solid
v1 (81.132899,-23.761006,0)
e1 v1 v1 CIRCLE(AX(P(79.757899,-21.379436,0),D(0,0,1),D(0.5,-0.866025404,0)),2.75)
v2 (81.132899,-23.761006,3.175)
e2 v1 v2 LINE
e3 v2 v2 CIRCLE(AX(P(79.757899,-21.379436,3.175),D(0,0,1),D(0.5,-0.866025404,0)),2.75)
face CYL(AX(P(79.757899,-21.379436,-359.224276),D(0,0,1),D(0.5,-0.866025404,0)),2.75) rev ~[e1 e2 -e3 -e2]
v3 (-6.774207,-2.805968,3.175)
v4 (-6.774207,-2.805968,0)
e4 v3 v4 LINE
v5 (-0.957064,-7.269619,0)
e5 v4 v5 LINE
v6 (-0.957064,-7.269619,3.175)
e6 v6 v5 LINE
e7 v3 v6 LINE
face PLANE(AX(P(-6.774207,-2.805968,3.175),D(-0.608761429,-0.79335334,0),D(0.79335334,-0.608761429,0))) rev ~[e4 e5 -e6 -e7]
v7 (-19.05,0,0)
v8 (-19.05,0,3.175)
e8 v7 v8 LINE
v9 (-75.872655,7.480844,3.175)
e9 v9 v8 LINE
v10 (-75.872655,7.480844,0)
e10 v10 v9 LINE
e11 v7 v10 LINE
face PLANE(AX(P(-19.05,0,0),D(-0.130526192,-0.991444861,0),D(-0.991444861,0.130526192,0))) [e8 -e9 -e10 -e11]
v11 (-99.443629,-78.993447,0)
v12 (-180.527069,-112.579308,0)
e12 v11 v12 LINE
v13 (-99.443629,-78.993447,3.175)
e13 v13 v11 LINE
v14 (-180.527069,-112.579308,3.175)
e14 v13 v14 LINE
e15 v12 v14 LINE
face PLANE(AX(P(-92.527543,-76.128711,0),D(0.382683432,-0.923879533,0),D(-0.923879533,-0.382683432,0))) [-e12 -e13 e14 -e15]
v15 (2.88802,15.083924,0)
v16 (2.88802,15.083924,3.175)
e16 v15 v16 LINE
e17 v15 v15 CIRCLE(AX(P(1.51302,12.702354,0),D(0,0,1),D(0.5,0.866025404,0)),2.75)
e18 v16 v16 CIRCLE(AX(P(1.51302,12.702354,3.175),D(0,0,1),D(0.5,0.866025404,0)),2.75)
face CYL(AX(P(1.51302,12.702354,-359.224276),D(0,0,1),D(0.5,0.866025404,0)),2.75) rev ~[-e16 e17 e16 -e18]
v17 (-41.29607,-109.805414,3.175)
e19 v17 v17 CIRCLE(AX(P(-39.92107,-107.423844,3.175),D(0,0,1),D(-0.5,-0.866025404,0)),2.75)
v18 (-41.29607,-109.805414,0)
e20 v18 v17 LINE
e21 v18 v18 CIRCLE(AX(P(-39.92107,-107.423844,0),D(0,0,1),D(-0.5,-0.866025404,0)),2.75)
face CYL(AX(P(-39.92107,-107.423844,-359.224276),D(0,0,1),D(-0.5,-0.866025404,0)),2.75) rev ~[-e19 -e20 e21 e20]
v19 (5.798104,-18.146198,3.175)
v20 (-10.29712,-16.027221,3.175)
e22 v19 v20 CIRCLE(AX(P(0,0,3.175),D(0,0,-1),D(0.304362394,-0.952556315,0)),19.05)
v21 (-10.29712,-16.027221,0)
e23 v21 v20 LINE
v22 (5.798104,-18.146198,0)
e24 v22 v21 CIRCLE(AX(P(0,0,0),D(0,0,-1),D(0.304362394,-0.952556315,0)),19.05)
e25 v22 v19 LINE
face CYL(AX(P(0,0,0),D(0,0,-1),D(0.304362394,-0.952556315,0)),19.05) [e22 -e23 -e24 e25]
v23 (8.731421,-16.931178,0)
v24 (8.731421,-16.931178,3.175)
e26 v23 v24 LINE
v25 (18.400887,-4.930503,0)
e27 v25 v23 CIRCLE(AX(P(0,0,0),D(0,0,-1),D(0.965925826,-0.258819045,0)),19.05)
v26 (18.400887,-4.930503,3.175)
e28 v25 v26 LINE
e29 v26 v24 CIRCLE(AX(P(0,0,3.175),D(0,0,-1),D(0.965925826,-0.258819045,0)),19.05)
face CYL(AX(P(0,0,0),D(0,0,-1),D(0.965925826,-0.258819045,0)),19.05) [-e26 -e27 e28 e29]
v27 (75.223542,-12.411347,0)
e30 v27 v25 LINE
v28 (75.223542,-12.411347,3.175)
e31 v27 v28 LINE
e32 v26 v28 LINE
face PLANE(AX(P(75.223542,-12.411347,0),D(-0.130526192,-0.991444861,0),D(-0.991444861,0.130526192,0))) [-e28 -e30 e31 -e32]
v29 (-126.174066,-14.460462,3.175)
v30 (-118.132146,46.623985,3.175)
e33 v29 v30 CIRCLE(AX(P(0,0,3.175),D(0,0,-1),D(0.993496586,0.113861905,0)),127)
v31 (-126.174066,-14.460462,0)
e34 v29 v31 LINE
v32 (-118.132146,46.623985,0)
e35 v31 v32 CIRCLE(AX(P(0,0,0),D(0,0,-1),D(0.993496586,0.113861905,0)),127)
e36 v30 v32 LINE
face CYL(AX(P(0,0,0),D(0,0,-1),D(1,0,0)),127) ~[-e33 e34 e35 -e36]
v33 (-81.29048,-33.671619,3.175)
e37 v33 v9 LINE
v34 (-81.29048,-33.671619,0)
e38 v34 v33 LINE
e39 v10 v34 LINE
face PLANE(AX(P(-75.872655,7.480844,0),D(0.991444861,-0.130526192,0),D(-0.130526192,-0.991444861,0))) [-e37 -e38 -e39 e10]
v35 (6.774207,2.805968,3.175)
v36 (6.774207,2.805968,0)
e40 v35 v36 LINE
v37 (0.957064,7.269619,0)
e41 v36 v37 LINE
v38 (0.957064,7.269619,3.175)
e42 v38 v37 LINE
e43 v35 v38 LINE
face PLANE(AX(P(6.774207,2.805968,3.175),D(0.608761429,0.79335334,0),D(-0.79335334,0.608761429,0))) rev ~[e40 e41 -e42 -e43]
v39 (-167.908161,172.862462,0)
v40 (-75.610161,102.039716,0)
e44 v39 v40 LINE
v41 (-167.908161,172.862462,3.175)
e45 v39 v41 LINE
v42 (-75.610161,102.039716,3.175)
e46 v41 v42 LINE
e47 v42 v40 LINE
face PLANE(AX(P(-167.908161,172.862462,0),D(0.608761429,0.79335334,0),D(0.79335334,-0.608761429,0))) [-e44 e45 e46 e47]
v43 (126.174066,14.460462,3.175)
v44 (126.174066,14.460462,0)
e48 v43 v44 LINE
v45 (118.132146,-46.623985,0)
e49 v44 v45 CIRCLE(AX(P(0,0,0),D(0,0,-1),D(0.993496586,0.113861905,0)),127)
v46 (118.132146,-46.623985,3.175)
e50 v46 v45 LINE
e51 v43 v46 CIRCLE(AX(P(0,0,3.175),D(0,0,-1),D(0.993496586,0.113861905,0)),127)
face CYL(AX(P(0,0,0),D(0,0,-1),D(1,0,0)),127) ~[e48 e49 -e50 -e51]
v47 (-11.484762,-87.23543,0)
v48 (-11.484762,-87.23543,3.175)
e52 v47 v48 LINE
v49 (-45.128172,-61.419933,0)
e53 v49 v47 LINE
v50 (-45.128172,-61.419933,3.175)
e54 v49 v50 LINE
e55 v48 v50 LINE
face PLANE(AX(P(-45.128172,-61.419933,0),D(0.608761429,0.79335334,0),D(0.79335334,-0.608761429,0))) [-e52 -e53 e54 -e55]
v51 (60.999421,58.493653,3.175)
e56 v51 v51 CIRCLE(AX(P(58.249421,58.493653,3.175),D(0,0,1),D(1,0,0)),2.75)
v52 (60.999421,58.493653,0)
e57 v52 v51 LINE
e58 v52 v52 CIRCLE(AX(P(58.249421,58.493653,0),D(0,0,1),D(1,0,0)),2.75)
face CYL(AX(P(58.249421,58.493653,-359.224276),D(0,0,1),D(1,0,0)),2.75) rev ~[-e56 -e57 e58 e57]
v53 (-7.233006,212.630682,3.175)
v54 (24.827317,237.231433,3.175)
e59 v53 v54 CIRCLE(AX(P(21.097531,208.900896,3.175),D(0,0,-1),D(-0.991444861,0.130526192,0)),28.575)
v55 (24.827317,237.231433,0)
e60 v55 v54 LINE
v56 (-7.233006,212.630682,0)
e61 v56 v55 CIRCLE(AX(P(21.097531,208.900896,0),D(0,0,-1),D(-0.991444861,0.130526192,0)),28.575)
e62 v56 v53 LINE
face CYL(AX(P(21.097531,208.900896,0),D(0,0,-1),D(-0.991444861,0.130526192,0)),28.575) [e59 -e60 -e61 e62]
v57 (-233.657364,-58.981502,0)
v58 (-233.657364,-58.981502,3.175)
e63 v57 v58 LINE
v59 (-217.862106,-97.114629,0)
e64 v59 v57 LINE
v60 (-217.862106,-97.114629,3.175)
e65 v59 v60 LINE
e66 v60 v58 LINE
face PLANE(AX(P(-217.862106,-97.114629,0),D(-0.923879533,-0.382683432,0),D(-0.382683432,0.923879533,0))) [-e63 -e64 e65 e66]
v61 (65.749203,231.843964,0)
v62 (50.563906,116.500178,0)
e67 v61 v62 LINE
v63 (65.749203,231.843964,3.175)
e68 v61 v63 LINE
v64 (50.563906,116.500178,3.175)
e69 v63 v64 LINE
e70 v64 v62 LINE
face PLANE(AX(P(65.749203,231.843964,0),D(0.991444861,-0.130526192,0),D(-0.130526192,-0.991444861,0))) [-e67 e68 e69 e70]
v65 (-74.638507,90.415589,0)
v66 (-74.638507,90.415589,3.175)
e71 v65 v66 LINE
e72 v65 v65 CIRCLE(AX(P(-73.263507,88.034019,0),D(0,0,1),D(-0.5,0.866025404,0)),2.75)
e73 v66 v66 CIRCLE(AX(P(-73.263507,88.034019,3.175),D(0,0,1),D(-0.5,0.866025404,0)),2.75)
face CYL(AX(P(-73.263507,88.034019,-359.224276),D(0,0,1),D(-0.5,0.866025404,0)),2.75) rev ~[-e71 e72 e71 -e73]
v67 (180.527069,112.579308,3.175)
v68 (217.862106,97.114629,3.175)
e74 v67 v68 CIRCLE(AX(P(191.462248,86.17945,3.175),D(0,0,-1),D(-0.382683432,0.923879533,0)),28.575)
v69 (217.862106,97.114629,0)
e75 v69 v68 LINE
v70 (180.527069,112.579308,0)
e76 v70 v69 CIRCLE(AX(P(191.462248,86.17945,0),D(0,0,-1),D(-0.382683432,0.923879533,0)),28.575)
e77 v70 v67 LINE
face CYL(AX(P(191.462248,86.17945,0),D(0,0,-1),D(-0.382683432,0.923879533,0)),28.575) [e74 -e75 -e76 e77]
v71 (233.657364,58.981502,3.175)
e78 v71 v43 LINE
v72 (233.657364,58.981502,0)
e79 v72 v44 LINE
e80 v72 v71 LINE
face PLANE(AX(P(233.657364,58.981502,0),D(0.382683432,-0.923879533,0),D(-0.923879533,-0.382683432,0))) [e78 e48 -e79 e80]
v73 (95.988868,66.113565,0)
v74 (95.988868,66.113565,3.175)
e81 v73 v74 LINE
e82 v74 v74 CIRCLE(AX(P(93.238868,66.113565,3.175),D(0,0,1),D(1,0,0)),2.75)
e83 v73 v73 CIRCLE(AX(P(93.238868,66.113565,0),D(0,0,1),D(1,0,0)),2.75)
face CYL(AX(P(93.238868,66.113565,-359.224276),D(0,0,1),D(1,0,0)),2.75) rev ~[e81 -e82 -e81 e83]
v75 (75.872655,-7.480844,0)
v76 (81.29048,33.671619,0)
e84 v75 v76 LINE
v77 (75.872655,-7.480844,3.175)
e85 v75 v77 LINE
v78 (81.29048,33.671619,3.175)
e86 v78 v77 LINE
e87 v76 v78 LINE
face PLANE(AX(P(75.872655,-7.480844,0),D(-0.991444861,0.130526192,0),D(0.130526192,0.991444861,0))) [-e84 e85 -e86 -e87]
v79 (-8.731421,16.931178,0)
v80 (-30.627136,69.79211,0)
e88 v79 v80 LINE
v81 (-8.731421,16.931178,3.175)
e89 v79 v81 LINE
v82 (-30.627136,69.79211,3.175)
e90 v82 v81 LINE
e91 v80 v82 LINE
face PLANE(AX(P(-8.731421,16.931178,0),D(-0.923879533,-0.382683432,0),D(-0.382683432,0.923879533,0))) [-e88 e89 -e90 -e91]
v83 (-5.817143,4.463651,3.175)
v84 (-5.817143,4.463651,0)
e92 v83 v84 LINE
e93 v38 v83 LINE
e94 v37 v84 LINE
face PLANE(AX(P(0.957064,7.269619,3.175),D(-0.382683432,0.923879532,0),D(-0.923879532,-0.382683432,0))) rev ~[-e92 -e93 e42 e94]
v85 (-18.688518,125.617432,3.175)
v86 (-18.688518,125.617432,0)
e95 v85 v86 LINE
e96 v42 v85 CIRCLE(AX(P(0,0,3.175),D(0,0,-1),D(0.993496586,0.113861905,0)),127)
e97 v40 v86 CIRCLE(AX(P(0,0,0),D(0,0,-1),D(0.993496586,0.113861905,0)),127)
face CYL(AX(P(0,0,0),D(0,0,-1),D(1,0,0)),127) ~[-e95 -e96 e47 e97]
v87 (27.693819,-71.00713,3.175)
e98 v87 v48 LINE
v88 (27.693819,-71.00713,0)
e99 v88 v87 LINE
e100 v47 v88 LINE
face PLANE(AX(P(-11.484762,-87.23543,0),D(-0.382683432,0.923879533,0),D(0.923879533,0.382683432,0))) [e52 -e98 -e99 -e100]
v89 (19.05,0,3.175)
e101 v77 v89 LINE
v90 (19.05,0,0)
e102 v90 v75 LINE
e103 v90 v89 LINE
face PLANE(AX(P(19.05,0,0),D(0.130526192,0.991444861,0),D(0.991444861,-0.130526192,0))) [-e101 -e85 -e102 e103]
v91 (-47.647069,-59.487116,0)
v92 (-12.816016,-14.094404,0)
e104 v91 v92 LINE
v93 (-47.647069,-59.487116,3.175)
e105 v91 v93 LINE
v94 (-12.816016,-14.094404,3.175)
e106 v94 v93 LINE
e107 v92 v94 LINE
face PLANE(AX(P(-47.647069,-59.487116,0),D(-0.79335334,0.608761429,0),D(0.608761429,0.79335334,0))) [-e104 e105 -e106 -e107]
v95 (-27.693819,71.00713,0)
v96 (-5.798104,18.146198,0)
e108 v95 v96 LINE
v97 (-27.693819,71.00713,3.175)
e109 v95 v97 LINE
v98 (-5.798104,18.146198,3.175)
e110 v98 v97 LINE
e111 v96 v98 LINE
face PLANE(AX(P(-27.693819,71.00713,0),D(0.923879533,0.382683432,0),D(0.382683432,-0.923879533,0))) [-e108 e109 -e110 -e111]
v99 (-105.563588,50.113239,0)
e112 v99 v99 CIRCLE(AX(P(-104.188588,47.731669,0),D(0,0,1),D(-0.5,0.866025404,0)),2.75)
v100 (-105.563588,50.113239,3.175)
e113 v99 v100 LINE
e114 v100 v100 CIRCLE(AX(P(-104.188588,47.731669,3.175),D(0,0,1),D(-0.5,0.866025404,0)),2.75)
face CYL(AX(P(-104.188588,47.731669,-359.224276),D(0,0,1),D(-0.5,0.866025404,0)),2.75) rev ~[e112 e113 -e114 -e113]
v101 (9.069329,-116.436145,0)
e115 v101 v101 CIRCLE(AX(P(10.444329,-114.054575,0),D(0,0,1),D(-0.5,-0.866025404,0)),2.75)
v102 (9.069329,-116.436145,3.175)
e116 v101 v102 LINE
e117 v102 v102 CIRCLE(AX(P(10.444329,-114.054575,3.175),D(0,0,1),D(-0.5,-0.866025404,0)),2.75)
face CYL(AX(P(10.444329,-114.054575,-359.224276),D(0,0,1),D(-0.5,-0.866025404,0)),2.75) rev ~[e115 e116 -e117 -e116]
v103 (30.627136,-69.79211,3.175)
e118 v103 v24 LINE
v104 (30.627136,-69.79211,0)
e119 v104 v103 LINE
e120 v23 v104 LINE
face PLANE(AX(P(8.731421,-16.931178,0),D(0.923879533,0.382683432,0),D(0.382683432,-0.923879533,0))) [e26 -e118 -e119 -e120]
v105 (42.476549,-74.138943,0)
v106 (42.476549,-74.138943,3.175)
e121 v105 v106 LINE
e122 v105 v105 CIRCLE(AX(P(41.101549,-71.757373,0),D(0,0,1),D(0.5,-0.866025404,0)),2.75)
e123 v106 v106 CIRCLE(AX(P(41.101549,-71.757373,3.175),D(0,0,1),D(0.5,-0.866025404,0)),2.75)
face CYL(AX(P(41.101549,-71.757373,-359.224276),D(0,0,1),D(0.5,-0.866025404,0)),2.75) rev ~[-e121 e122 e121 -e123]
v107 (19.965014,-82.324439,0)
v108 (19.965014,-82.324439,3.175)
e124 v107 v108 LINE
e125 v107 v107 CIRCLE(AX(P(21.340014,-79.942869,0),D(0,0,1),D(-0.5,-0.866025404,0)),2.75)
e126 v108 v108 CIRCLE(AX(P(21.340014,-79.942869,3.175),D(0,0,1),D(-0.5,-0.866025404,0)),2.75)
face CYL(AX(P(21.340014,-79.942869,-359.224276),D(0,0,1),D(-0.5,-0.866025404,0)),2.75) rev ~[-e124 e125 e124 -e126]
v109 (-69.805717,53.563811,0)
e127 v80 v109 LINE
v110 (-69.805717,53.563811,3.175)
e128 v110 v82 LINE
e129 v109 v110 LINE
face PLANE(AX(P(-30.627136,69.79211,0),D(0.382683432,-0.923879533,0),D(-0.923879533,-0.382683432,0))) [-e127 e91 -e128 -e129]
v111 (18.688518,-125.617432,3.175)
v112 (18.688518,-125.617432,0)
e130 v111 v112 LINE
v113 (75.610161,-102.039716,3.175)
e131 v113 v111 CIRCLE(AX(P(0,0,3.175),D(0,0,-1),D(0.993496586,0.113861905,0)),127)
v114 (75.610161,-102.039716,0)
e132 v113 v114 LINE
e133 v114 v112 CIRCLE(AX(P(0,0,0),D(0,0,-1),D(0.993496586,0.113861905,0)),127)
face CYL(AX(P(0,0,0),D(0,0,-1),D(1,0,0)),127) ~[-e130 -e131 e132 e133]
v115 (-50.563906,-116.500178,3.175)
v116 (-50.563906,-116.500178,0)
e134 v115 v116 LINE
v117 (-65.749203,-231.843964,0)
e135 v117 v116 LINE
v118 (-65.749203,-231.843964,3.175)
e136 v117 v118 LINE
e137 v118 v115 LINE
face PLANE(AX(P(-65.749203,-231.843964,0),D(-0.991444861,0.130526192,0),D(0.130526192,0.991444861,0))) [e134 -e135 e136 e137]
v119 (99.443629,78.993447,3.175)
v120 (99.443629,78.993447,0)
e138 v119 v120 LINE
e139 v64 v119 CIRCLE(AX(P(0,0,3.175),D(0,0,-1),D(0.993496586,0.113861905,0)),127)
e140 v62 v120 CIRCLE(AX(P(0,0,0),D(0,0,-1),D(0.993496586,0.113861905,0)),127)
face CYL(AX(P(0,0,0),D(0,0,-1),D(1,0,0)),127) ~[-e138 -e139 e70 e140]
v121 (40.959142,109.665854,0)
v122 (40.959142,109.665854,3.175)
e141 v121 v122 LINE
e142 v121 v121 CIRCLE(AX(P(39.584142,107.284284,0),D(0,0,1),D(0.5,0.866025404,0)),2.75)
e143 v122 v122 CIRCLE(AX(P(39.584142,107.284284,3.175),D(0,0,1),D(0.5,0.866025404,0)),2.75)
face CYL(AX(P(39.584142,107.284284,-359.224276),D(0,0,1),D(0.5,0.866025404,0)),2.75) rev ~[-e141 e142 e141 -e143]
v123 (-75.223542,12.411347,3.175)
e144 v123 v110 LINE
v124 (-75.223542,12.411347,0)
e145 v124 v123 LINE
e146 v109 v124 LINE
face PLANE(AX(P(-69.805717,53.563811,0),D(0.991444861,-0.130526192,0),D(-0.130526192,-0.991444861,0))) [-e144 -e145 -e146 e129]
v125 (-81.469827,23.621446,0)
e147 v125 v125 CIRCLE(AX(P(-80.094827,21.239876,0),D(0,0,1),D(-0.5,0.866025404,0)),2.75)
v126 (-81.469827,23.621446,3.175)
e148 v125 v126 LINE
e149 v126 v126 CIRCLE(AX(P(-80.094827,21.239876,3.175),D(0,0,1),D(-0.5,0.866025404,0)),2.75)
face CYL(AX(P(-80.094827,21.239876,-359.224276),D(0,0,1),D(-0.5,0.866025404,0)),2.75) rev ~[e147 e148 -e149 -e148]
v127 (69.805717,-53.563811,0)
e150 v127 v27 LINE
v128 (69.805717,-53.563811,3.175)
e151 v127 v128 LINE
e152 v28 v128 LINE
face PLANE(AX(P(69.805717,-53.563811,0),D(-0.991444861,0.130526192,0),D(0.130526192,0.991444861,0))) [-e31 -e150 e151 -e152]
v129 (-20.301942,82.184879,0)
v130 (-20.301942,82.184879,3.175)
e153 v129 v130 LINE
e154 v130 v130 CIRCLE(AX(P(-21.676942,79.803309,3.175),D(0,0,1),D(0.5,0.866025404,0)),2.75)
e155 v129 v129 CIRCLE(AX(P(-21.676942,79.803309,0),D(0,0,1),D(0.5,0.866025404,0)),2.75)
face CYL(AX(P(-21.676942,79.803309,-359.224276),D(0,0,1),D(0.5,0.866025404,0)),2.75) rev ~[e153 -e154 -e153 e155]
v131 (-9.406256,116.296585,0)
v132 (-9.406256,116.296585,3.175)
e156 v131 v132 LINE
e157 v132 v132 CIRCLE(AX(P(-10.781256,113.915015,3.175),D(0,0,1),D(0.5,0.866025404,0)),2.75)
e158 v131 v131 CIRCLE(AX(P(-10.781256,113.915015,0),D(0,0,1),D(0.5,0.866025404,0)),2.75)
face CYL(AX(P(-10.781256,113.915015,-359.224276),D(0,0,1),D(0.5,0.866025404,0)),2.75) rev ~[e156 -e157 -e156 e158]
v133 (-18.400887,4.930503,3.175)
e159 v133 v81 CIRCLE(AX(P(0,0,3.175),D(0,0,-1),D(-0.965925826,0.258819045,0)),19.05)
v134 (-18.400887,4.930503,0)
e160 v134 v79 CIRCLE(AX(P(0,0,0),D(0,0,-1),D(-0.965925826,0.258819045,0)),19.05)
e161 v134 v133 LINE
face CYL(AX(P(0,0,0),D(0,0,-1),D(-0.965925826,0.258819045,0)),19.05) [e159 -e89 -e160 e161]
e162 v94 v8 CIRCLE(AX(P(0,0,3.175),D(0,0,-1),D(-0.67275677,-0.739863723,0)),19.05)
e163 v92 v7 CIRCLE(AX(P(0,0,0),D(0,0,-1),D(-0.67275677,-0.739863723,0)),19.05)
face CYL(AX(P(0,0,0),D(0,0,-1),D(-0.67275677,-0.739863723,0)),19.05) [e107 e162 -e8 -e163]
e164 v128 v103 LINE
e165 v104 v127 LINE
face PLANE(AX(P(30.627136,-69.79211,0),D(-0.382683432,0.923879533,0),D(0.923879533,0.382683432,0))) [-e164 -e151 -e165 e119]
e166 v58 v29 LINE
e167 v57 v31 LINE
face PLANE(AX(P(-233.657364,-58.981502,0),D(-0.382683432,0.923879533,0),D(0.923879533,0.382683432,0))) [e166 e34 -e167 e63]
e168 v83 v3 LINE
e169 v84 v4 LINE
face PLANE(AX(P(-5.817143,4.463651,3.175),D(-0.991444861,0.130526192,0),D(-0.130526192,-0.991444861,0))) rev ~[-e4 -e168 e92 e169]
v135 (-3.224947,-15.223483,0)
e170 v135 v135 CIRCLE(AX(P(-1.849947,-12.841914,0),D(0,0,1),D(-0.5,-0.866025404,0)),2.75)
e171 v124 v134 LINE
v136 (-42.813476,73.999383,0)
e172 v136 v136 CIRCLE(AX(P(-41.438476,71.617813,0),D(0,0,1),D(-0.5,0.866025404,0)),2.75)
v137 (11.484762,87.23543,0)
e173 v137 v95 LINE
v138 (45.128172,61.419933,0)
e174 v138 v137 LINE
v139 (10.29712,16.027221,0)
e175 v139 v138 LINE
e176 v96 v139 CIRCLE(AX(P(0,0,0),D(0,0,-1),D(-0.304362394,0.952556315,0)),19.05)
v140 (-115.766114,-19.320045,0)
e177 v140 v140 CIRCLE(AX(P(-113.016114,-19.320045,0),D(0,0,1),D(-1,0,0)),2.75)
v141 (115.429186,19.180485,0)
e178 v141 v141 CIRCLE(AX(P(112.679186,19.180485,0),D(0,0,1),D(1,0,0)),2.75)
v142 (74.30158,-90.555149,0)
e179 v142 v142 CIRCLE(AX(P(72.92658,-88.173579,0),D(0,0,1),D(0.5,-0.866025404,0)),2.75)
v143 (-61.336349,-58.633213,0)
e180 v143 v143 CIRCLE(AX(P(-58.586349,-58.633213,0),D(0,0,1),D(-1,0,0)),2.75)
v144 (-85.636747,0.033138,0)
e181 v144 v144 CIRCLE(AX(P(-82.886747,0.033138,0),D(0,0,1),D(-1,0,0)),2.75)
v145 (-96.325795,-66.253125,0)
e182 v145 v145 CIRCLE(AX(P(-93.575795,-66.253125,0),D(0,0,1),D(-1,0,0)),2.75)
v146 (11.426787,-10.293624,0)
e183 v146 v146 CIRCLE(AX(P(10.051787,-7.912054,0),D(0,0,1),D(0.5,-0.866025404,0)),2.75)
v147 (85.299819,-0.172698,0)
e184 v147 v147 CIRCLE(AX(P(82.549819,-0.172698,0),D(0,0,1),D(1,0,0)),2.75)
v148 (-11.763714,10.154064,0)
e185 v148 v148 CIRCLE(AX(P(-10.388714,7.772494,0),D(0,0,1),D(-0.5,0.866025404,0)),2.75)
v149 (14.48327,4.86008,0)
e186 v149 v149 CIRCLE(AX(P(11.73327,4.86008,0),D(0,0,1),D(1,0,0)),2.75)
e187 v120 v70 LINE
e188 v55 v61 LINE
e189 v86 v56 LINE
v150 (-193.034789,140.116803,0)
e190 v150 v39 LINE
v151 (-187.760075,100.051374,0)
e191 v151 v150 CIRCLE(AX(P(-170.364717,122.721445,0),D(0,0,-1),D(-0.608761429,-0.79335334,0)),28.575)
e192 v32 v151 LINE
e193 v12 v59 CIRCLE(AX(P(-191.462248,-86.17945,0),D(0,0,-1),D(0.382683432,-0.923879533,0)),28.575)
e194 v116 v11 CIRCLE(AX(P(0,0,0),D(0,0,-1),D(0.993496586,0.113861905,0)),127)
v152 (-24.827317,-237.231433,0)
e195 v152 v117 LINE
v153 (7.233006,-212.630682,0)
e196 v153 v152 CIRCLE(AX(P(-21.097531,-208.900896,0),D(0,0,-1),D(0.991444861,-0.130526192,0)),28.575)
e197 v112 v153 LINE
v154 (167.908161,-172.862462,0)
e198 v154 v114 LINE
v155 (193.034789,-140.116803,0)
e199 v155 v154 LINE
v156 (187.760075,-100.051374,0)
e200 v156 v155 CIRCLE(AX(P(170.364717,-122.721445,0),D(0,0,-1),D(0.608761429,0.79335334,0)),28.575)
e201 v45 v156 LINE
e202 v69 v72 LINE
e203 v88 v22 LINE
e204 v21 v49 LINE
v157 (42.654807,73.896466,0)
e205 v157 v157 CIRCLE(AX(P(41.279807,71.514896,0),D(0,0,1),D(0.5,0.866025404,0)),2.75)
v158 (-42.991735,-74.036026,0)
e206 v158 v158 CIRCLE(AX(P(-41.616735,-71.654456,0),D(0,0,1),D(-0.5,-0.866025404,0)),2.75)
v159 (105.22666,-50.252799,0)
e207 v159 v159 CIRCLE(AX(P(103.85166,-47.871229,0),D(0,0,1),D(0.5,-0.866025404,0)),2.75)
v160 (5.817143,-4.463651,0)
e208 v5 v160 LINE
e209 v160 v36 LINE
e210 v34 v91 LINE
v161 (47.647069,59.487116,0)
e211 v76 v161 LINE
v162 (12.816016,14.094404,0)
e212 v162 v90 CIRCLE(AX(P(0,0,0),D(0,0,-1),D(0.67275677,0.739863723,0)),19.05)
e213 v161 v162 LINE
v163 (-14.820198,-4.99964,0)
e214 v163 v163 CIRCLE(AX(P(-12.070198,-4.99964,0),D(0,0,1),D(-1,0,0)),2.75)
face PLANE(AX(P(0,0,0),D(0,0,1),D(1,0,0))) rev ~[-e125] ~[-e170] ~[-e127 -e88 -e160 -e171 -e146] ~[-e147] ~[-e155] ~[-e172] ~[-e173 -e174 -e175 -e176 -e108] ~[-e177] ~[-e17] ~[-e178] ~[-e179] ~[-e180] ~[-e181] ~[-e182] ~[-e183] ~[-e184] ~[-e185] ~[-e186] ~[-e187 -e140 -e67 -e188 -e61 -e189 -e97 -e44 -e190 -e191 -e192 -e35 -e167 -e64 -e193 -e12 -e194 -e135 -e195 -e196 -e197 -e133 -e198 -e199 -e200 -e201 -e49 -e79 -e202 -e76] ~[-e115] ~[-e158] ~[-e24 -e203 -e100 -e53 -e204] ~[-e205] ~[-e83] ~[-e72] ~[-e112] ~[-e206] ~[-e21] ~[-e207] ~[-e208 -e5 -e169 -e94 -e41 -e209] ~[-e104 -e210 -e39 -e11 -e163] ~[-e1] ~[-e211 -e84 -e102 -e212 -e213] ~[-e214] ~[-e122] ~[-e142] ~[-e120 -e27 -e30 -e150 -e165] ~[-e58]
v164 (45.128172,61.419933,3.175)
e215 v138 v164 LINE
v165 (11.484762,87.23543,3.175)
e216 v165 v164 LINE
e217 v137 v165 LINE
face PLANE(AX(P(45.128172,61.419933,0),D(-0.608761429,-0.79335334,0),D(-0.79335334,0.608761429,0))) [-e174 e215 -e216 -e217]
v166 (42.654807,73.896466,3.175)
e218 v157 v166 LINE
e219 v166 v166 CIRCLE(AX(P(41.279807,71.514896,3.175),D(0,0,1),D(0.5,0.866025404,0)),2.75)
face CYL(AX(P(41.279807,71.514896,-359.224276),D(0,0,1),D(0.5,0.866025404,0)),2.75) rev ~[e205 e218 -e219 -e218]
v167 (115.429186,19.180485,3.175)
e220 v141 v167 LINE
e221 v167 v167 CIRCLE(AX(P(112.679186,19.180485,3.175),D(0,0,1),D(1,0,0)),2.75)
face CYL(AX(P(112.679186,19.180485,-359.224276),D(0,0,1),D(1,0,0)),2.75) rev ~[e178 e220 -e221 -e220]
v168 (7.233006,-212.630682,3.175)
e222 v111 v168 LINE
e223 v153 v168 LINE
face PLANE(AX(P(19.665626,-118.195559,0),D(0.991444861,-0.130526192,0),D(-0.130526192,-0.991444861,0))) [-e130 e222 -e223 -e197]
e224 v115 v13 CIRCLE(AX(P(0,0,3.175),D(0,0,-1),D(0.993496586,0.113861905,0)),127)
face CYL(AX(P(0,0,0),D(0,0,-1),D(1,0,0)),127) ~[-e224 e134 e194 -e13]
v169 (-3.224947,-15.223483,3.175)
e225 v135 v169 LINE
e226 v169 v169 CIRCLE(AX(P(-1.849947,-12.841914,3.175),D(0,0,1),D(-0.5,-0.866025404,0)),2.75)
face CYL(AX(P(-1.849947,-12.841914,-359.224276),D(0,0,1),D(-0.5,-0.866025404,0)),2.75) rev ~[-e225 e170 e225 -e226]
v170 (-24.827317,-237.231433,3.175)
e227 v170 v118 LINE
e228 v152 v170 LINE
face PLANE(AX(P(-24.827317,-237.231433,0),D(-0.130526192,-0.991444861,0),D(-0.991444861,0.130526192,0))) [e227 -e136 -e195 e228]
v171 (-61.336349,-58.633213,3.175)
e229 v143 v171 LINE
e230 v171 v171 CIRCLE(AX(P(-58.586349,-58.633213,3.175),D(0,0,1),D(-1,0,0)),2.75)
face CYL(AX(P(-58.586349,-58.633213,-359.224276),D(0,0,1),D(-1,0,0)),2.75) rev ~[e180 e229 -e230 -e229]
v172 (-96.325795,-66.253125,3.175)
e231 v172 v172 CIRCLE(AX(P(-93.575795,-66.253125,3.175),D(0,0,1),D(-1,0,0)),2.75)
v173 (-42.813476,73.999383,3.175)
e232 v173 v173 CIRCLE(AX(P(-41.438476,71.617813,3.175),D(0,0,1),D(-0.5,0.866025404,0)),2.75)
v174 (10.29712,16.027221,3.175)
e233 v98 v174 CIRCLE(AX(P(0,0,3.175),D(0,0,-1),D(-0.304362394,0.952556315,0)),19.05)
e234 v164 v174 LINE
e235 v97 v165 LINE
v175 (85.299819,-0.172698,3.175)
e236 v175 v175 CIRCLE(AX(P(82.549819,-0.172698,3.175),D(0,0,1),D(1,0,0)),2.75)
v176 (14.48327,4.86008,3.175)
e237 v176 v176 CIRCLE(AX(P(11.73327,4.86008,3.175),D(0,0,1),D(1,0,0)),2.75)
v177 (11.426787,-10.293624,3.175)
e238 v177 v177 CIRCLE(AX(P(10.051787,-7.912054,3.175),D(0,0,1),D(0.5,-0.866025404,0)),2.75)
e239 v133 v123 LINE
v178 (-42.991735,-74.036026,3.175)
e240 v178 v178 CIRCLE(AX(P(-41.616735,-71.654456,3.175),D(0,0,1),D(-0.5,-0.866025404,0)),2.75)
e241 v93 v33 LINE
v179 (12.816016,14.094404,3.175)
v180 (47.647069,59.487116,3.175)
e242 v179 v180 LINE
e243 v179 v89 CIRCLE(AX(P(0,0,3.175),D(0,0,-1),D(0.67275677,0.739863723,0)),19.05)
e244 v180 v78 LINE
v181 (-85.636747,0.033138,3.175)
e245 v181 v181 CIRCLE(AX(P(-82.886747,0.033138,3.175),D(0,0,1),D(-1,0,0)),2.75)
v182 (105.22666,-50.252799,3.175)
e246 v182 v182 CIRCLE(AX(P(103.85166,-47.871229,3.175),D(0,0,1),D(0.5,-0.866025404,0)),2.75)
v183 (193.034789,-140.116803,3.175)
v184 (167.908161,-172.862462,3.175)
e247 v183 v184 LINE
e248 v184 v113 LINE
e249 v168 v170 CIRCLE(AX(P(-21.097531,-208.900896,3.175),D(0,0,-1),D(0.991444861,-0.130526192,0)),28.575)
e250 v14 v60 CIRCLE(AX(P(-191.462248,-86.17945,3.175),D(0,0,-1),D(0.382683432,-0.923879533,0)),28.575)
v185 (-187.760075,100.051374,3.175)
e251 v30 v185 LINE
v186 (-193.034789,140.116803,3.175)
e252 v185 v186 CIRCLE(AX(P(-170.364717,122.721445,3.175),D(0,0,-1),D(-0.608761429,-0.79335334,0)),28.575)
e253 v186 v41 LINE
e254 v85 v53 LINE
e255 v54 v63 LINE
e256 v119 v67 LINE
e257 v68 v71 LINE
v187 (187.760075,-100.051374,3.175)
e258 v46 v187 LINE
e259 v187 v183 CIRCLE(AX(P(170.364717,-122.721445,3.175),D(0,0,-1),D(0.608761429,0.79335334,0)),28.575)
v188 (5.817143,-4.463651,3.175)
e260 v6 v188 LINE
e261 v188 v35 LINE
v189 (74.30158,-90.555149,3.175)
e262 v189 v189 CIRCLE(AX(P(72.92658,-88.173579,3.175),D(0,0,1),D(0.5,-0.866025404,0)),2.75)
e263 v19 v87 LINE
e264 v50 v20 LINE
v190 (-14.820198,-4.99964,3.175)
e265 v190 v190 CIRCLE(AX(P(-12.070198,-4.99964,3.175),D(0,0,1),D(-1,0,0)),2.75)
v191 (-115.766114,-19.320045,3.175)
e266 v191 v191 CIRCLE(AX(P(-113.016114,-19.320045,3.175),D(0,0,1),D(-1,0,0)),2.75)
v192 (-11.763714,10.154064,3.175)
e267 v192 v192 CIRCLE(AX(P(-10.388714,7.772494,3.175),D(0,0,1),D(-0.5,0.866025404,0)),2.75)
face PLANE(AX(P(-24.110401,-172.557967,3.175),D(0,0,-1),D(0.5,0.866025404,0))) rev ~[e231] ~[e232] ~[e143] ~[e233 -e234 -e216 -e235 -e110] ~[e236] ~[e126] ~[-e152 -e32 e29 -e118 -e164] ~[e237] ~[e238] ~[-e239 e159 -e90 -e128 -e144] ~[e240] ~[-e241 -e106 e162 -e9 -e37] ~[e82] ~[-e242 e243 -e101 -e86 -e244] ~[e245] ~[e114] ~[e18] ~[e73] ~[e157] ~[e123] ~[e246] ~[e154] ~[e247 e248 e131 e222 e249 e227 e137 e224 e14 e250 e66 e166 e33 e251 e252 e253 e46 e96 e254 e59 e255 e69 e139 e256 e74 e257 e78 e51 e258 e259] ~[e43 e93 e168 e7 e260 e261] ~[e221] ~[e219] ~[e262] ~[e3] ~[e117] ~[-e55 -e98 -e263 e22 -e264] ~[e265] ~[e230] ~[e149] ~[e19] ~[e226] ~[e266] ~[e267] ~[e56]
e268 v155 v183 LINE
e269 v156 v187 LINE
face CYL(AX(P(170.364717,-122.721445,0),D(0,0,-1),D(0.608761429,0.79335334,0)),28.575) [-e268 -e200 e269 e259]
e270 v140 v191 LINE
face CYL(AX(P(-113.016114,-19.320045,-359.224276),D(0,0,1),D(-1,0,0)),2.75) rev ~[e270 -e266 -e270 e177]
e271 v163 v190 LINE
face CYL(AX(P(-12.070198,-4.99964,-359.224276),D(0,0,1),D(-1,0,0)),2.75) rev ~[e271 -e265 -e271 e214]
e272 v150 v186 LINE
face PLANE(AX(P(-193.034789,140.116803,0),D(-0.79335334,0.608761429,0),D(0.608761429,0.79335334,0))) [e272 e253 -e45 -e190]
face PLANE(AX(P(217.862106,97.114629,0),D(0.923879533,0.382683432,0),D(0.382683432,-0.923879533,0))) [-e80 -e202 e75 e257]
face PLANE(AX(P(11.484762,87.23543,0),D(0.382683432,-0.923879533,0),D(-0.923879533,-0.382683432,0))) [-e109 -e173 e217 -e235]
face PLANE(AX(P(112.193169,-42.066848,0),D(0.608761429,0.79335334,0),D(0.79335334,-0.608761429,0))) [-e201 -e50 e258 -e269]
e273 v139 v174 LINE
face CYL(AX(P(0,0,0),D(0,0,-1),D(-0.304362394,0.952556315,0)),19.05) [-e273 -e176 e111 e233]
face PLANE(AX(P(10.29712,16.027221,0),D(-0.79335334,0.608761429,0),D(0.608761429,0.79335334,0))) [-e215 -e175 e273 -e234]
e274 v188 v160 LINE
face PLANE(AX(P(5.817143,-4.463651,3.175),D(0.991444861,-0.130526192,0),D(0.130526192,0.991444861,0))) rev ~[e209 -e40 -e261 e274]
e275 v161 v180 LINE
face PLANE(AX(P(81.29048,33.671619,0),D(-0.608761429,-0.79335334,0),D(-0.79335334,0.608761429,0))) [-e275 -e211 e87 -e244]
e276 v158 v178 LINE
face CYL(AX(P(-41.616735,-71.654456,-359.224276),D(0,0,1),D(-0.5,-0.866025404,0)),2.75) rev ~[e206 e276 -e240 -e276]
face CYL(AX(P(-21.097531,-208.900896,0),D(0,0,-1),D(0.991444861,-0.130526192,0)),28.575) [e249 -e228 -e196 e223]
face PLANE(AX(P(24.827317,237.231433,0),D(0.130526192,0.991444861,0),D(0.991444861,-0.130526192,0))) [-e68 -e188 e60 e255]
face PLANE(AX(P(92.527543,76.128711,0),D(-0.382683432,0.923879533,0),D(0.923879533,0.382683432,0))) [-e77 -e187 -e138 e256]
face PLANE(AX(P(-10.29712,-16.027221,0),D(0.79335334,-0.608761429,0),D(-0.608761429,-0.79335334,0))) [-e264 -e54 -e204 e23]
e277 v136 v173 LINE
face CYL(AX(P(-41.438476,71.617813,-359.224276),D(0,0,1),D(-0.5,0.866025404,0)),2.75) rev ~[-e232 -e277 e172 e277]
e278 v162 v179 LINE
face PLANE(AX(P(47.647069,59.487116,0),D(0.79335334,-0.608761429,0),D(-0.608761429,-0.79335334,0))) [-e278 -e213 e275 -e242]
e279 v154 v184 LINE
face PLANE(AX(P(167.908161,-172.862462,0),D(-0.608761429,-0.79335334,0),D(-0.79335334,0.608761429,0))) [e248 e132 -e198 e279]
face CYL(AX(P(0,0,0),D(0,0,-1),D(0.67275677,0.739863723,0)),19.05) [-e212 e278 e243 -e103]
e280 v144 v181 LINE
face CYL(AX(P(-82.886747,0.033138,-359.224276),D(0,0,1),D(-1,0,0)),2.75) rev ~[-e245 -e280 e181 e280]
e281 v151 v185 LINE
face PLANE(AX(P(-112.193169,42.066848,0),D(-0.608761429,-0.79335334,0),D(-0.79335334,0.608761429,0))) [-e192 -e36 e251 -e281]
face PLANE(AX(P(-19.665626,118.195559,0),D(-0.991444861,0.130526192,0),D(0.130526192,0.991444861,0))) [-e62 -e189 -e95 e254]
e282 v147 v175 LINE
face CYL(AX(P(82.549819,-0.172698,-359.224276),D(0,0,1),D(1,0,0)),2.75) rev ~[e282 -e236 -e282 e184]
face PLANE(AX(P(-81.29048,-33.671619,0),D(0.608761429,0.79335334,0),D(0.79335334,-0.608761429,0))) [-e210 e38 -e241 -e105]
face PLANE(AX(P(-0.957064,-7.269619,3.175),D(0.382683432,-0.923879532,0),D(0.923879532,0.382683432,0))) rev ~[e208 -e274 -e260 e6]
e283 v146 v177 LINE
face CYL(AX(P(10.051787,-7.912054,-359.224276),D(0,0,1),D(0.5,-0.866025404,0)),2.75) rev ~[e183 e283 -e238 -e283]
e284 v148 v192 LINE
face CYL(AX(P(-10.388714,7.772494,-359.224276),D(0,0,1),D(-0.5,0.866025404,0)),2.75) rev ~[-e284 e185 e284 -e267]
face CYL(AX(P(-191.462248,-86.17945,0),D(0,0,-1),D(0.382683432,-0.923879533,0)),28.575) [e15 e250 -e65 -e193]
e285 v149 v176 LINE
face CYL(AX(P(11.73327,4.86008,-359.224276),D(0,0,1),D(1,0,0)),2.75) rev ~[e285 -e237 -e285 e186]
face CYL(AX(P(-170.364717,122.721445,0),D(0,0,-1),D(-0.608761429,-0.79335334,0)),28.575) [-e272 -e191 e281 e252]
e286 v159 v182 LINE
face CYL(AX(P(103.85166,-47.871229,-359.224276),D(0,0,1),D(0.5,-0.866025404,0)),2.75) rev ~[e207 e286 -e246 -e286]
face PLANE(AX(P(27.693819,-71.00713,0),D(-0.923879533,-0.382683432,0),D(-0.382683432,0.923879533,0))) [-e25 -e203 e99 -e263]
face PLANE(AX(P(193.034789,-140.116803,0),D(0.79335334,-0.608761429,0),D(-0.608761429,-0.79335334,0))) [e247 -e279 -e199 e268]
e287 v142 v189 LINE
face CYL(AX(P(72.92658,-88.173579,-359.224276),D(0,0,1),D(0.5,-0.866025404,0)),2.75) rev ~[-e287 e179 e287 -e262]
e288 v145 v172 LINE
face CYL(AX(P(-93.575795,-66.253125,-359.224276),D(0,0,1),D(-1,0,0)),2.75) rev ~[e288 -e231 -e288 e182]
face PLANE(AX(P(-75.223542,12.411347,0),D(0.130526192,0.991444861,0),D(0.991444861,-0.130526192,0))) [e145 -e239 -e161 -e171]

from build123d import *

# Parameters (mm, degrees)
SKETCH1_R            = 127
BOSS_EXTRUDE1_DEPTH  = 3.175
M5_CLEARANCE_HOLE1_D = 5.5
CIRPATTERN1_COUNT    = 6
BOSS_EXTRUDE2_DEPTH  = 3.175
CIRPATTERN2_COUNT    = 6
CUT_EXTRUDE1_REACH   = 335.168
CUT_EXTRUDE2_DEPTH   = 334.167593846


with BuildPart() as part:
    # Sketch1 → Boss-Extrude1 (new body)
    with BuildSketch(Plane.XY):
        Circle(SKETCH1_R)
    extrude(amount=BOSS_EXTRUDE1_DEPTH)

    # M5 Clearance Hole1 (through all)
    with Locations(Plane(origin=(0, 0, 0), x_dir=(-1, 0, 0), z_dir=(0, 0, -1))):
        with Locations((-58.2494214, 58.493652703), (-82.549819355, -0.172697611), (-93.238867767, 66.113565457), (-112.679186132, 19.180485205), (-11.733270063, 4.860079591)):
            m5_clearance_hole1 = Hole(M5_CLEARANCE_HOLE1_D / 2)

    # CirPattern1: M5 Clearance Hole1 ×6 about axis
    cirpattern1_axis = Axis((-0.168463788, -0.069779986, 0), (0, 0, 1))
    for i in range(1, CIRPATTERN1_COUNT):
        add(m5_clearance_hole1.rotate(cirpattern1_axis, i * 360 / CIRPATTERN1_COUNT), mode=Mode.SUBTRACT)

    # Sketch6 → Boss-Extrude2 (add)
    with BuildSketch(Plane(origin=(0, 0, 0), x_dir=(-1, 0, 0), z_dir=(0, 0, -1))):
        with BuildLine():
            Line((-92.527543442, 76.128710982), (-180.527068914, 112.579307915))
            ThreePointArc((-180.527068914, 112.579307915), (-202.397427074, 112.579307915), (-217.862105635, 97.114629353))
            Line((-217.862105635, 97.114629353), (-233.657364306, 58.981501649))
            Line((-233.657364306, 58.981501649), (-119.257981193, 11.595725636))
            Line((-119.257981193, 11.595725636), (-92.527543442, 76.128710982))
        make_face()
    boss_extrude2 = extrude(amount=-BOSS_EXTRUDE2_DEPTH)

    # CirPattern2: Boss-Extrude2 ×6 about axis
    cirpattern2_axis = Axis((0, 0, 0), (0, 0, 1))
    for i in range(1, CIRPATTERN2_COUNT):
        add(boss_extrude2.rotate(cirpattern2_axis, i * 360 / CIRPATTERN2_COUNT))

    # Sketch7 → Cut-Extrude1 (cut, up to next)
    with BuildSketch(Plane.XY, mode=Mode.PRIVATE) as cut_extrude1_sk1:
        with BuildLine():
            Line((-30.627136304, 69.792110428), (-69.805717322, 53.563810816))
            Line((-69.805717322, 53.563810816), (-75.223541932, 12.411347252))
            Line((-75.223541932, 12.411347252), (-18.400886991, 4.930502809))
            ThreePointArc((-18.400886991, 4.930502809), (-14.833899914, 11.952318325), (-8.731421131, 16.931177899))
            Line((-8.731421131, 16.931177899), (-30.627136304, 69.792110428))
        make_face()
    cut_extrude1_tool1 = extrude(cut_extrude1_sk1.sketch, amount=CUT_EXTRUDE1_REACH, mode=Mode.PRIVATE) & part.part
    # Sketch7 → Cut-Extrude1 (cut, up to next)
    with BuildSketch(Plane.XY, mode=Mode.PRIVATE) as cut_extrude1_sk2:
        with BuildLine():
            Line((81.290479551, 33.671619122), (47.647069318, 59.487115762))
            Line((47.647069318, 59.487115762), (12.816016466, 14.094403923))
            ThreePointArc((12.816016466, 14.094403923), (17.421934647, 7.705757144), (19.05, 0))
            Line((19.05, 0), (75.872654941, -7.480844443))
            Line((75.872654941, -7.480844443), (81.290479551, 33.671619122))
        make_face()
    cut_extrude1_tool2 = extrude(cut_extrude1_sk2.sketch, amount=CUT_EXTRUDE1_REACH, mode=Mode.PRIVATE) & part.part
    # Sketch7 → Cut-Extrude1 (cut, up to next)
    with BuildSketch(Plane.XY, mode=Mode.PRIVATE) as cut_extrude1_sk3:
        with BuildLine():
            Line((11.484762229, 87.235429938), (-27.693818788, 71.007130326))
            Line((-27.693818788, 71.007130326), (-5.798103615, 18.146197797))
            ThreePointArc((-5.798103615, 18.146197797), (2.486523962, 18.887024609), (10.297119611, 16.02722146))
            Line((10.297119611, 16.02722146), (45.128172463, 61.419933299))
            Line((45.128172463, 61.419933299), (11.484762229, 87.235429938))
        make_face()
    cut_extrude1_tool3 = extrude(cut_extrude1_sk3.sketch, amount=CUT_EXTRUDE1_REACH, mode=Mode.PRIVATE) & part.part
    # Sketch7 → Cut-Extrude1 (cut, up to next)
    with BuildSketch(Plane.XY, mode=Mode.PRIVATE) as cut_extrude1_sk4:
        with BuildLine():
            Line((-81.290479551, -33.671619122), (-47.647069318, -59.487115762))
            Line((-47.647069318, -59.487115762), (-12.816016466, -14.094403923))
            ThreePointArc((-12.816016466, -14.094403923), (-17.421934647, -7.705757144), (-19.05, 0))
            Line((-19.05, 0), (-75.872654941, 7.480844443))
            Line((-75.872654941, 7.480844443), (-81.290479551, -33.671619122))
        make_face()
    cut_extrude1_tool4 = extrude(cut_extrude1_sk4.sketch, amount=CUT_EXTRUDE1_REACH, mode=Mode.PRIVATE) & part.part
    # Sketch7 → Cut-Extrude1 (cut, up to next)
    with BuildSketch(Plane.XY, mode=Mode.PRIVATE) as cut_extrude1_sk5:
        with BuildLine():
            Line((-11.484762229, -87.235429938), (27.693818788, -71.007130326))
            Line((27.693818788, -71.007130326), (5.798103615, -18.146197797))
            ThreePointArc((5.798103615, -18.146197797), (-2.486523962, -18.887024609), (-10.297119611, -16.02722146))
            Line((-10.297119611, -16.02722146), (-45.128172463, -61.419933299))
            Line((-45.128172463, -61.419933299), (-11.484762229, -87.235429938))
        make_face()
    cut_extrude1_tool5 = extrude(cut_extrude1_sk5.sketch, amount=CUT_EXTRUDE1_REACH, mode=Mode.PRIVATE) & part.part
    # Sketch7 → Cut-Extrude1 (cut, up to next)
    with BuildSketch(Plane.XY, mode=Mode.PRIVATE) as cut_extrude1_sk6:
        with BuildLine():
            Line((69.805717322, -53.563810816), (75.223541932, -12.411347252))
            Line((75.223541932, -12.411347252), (18.400886991, -4.930502809))
            ThreePointArc((18.400886991, -4.930502809), (14.833899914, -11.952318325), (8.731421131, -16.931177899))
            Line((8.731421131, -16.931177899), (30.627136304, -69.792110428))
            Line((30.627136304, -69.792110428), (69.805717322, -53.563810816))
        make_face()
    cut_extrude1_tool6 = extrude(cut_extrude1_sk6.sketch, amount=CUT_EXTRUDE1_REACH, mode=Mode.PRIVATE) & part.part
    add(cut_extrude1_tool1.solids().sort_by_distance((-43.105306, 33.563643, 0))[0], mode=Mode.SUBTRACT)
    add(cut_extrude1_tool2.solids().sort_by_distance((50.323438, 21.263515, 0))[0], mode=Mode.SUBTRACT)
    add(cut_extrude1_tool3.solids().sort_by_distance((7.102658, 53.950047, 0))[0], mode=Mode.SUBTRACT)
    add(cut_extrude1_tool4.solids().sort_by_distance((-50.323438, -21.263515, 0))[0], mode=Mode.SUBTRACT)
    add(cut_extrude1_tool5.solids().sort_by_distance((-7.102658, -53.950047, 0))[0], mode=Mode.SUBTRACT)
    add(cut_extrude1_tool6.solids().sort_by_distance((43.105306, -33.563643, 0))[0], mode=Mode.SUBTRACT)

    # Sketch16 → Cut-Extrude2 (cut, through all)
    with BuildSketch(Plane.XY.offset(3.175)):
        Polygon((6.774206629, 2.80596826), (0.957063519, 7.269619162), (-5.81714311, 4.463650901), (-6.774206629, -2.80596826), (-0.957063519, -7.269619162), (5.81714311, -4.463650901), align=None)
    extrude(amount=-CUT_EXTRUDE2_DEPTH, mode=Mode.SUBTRACT)


solid = part.part
